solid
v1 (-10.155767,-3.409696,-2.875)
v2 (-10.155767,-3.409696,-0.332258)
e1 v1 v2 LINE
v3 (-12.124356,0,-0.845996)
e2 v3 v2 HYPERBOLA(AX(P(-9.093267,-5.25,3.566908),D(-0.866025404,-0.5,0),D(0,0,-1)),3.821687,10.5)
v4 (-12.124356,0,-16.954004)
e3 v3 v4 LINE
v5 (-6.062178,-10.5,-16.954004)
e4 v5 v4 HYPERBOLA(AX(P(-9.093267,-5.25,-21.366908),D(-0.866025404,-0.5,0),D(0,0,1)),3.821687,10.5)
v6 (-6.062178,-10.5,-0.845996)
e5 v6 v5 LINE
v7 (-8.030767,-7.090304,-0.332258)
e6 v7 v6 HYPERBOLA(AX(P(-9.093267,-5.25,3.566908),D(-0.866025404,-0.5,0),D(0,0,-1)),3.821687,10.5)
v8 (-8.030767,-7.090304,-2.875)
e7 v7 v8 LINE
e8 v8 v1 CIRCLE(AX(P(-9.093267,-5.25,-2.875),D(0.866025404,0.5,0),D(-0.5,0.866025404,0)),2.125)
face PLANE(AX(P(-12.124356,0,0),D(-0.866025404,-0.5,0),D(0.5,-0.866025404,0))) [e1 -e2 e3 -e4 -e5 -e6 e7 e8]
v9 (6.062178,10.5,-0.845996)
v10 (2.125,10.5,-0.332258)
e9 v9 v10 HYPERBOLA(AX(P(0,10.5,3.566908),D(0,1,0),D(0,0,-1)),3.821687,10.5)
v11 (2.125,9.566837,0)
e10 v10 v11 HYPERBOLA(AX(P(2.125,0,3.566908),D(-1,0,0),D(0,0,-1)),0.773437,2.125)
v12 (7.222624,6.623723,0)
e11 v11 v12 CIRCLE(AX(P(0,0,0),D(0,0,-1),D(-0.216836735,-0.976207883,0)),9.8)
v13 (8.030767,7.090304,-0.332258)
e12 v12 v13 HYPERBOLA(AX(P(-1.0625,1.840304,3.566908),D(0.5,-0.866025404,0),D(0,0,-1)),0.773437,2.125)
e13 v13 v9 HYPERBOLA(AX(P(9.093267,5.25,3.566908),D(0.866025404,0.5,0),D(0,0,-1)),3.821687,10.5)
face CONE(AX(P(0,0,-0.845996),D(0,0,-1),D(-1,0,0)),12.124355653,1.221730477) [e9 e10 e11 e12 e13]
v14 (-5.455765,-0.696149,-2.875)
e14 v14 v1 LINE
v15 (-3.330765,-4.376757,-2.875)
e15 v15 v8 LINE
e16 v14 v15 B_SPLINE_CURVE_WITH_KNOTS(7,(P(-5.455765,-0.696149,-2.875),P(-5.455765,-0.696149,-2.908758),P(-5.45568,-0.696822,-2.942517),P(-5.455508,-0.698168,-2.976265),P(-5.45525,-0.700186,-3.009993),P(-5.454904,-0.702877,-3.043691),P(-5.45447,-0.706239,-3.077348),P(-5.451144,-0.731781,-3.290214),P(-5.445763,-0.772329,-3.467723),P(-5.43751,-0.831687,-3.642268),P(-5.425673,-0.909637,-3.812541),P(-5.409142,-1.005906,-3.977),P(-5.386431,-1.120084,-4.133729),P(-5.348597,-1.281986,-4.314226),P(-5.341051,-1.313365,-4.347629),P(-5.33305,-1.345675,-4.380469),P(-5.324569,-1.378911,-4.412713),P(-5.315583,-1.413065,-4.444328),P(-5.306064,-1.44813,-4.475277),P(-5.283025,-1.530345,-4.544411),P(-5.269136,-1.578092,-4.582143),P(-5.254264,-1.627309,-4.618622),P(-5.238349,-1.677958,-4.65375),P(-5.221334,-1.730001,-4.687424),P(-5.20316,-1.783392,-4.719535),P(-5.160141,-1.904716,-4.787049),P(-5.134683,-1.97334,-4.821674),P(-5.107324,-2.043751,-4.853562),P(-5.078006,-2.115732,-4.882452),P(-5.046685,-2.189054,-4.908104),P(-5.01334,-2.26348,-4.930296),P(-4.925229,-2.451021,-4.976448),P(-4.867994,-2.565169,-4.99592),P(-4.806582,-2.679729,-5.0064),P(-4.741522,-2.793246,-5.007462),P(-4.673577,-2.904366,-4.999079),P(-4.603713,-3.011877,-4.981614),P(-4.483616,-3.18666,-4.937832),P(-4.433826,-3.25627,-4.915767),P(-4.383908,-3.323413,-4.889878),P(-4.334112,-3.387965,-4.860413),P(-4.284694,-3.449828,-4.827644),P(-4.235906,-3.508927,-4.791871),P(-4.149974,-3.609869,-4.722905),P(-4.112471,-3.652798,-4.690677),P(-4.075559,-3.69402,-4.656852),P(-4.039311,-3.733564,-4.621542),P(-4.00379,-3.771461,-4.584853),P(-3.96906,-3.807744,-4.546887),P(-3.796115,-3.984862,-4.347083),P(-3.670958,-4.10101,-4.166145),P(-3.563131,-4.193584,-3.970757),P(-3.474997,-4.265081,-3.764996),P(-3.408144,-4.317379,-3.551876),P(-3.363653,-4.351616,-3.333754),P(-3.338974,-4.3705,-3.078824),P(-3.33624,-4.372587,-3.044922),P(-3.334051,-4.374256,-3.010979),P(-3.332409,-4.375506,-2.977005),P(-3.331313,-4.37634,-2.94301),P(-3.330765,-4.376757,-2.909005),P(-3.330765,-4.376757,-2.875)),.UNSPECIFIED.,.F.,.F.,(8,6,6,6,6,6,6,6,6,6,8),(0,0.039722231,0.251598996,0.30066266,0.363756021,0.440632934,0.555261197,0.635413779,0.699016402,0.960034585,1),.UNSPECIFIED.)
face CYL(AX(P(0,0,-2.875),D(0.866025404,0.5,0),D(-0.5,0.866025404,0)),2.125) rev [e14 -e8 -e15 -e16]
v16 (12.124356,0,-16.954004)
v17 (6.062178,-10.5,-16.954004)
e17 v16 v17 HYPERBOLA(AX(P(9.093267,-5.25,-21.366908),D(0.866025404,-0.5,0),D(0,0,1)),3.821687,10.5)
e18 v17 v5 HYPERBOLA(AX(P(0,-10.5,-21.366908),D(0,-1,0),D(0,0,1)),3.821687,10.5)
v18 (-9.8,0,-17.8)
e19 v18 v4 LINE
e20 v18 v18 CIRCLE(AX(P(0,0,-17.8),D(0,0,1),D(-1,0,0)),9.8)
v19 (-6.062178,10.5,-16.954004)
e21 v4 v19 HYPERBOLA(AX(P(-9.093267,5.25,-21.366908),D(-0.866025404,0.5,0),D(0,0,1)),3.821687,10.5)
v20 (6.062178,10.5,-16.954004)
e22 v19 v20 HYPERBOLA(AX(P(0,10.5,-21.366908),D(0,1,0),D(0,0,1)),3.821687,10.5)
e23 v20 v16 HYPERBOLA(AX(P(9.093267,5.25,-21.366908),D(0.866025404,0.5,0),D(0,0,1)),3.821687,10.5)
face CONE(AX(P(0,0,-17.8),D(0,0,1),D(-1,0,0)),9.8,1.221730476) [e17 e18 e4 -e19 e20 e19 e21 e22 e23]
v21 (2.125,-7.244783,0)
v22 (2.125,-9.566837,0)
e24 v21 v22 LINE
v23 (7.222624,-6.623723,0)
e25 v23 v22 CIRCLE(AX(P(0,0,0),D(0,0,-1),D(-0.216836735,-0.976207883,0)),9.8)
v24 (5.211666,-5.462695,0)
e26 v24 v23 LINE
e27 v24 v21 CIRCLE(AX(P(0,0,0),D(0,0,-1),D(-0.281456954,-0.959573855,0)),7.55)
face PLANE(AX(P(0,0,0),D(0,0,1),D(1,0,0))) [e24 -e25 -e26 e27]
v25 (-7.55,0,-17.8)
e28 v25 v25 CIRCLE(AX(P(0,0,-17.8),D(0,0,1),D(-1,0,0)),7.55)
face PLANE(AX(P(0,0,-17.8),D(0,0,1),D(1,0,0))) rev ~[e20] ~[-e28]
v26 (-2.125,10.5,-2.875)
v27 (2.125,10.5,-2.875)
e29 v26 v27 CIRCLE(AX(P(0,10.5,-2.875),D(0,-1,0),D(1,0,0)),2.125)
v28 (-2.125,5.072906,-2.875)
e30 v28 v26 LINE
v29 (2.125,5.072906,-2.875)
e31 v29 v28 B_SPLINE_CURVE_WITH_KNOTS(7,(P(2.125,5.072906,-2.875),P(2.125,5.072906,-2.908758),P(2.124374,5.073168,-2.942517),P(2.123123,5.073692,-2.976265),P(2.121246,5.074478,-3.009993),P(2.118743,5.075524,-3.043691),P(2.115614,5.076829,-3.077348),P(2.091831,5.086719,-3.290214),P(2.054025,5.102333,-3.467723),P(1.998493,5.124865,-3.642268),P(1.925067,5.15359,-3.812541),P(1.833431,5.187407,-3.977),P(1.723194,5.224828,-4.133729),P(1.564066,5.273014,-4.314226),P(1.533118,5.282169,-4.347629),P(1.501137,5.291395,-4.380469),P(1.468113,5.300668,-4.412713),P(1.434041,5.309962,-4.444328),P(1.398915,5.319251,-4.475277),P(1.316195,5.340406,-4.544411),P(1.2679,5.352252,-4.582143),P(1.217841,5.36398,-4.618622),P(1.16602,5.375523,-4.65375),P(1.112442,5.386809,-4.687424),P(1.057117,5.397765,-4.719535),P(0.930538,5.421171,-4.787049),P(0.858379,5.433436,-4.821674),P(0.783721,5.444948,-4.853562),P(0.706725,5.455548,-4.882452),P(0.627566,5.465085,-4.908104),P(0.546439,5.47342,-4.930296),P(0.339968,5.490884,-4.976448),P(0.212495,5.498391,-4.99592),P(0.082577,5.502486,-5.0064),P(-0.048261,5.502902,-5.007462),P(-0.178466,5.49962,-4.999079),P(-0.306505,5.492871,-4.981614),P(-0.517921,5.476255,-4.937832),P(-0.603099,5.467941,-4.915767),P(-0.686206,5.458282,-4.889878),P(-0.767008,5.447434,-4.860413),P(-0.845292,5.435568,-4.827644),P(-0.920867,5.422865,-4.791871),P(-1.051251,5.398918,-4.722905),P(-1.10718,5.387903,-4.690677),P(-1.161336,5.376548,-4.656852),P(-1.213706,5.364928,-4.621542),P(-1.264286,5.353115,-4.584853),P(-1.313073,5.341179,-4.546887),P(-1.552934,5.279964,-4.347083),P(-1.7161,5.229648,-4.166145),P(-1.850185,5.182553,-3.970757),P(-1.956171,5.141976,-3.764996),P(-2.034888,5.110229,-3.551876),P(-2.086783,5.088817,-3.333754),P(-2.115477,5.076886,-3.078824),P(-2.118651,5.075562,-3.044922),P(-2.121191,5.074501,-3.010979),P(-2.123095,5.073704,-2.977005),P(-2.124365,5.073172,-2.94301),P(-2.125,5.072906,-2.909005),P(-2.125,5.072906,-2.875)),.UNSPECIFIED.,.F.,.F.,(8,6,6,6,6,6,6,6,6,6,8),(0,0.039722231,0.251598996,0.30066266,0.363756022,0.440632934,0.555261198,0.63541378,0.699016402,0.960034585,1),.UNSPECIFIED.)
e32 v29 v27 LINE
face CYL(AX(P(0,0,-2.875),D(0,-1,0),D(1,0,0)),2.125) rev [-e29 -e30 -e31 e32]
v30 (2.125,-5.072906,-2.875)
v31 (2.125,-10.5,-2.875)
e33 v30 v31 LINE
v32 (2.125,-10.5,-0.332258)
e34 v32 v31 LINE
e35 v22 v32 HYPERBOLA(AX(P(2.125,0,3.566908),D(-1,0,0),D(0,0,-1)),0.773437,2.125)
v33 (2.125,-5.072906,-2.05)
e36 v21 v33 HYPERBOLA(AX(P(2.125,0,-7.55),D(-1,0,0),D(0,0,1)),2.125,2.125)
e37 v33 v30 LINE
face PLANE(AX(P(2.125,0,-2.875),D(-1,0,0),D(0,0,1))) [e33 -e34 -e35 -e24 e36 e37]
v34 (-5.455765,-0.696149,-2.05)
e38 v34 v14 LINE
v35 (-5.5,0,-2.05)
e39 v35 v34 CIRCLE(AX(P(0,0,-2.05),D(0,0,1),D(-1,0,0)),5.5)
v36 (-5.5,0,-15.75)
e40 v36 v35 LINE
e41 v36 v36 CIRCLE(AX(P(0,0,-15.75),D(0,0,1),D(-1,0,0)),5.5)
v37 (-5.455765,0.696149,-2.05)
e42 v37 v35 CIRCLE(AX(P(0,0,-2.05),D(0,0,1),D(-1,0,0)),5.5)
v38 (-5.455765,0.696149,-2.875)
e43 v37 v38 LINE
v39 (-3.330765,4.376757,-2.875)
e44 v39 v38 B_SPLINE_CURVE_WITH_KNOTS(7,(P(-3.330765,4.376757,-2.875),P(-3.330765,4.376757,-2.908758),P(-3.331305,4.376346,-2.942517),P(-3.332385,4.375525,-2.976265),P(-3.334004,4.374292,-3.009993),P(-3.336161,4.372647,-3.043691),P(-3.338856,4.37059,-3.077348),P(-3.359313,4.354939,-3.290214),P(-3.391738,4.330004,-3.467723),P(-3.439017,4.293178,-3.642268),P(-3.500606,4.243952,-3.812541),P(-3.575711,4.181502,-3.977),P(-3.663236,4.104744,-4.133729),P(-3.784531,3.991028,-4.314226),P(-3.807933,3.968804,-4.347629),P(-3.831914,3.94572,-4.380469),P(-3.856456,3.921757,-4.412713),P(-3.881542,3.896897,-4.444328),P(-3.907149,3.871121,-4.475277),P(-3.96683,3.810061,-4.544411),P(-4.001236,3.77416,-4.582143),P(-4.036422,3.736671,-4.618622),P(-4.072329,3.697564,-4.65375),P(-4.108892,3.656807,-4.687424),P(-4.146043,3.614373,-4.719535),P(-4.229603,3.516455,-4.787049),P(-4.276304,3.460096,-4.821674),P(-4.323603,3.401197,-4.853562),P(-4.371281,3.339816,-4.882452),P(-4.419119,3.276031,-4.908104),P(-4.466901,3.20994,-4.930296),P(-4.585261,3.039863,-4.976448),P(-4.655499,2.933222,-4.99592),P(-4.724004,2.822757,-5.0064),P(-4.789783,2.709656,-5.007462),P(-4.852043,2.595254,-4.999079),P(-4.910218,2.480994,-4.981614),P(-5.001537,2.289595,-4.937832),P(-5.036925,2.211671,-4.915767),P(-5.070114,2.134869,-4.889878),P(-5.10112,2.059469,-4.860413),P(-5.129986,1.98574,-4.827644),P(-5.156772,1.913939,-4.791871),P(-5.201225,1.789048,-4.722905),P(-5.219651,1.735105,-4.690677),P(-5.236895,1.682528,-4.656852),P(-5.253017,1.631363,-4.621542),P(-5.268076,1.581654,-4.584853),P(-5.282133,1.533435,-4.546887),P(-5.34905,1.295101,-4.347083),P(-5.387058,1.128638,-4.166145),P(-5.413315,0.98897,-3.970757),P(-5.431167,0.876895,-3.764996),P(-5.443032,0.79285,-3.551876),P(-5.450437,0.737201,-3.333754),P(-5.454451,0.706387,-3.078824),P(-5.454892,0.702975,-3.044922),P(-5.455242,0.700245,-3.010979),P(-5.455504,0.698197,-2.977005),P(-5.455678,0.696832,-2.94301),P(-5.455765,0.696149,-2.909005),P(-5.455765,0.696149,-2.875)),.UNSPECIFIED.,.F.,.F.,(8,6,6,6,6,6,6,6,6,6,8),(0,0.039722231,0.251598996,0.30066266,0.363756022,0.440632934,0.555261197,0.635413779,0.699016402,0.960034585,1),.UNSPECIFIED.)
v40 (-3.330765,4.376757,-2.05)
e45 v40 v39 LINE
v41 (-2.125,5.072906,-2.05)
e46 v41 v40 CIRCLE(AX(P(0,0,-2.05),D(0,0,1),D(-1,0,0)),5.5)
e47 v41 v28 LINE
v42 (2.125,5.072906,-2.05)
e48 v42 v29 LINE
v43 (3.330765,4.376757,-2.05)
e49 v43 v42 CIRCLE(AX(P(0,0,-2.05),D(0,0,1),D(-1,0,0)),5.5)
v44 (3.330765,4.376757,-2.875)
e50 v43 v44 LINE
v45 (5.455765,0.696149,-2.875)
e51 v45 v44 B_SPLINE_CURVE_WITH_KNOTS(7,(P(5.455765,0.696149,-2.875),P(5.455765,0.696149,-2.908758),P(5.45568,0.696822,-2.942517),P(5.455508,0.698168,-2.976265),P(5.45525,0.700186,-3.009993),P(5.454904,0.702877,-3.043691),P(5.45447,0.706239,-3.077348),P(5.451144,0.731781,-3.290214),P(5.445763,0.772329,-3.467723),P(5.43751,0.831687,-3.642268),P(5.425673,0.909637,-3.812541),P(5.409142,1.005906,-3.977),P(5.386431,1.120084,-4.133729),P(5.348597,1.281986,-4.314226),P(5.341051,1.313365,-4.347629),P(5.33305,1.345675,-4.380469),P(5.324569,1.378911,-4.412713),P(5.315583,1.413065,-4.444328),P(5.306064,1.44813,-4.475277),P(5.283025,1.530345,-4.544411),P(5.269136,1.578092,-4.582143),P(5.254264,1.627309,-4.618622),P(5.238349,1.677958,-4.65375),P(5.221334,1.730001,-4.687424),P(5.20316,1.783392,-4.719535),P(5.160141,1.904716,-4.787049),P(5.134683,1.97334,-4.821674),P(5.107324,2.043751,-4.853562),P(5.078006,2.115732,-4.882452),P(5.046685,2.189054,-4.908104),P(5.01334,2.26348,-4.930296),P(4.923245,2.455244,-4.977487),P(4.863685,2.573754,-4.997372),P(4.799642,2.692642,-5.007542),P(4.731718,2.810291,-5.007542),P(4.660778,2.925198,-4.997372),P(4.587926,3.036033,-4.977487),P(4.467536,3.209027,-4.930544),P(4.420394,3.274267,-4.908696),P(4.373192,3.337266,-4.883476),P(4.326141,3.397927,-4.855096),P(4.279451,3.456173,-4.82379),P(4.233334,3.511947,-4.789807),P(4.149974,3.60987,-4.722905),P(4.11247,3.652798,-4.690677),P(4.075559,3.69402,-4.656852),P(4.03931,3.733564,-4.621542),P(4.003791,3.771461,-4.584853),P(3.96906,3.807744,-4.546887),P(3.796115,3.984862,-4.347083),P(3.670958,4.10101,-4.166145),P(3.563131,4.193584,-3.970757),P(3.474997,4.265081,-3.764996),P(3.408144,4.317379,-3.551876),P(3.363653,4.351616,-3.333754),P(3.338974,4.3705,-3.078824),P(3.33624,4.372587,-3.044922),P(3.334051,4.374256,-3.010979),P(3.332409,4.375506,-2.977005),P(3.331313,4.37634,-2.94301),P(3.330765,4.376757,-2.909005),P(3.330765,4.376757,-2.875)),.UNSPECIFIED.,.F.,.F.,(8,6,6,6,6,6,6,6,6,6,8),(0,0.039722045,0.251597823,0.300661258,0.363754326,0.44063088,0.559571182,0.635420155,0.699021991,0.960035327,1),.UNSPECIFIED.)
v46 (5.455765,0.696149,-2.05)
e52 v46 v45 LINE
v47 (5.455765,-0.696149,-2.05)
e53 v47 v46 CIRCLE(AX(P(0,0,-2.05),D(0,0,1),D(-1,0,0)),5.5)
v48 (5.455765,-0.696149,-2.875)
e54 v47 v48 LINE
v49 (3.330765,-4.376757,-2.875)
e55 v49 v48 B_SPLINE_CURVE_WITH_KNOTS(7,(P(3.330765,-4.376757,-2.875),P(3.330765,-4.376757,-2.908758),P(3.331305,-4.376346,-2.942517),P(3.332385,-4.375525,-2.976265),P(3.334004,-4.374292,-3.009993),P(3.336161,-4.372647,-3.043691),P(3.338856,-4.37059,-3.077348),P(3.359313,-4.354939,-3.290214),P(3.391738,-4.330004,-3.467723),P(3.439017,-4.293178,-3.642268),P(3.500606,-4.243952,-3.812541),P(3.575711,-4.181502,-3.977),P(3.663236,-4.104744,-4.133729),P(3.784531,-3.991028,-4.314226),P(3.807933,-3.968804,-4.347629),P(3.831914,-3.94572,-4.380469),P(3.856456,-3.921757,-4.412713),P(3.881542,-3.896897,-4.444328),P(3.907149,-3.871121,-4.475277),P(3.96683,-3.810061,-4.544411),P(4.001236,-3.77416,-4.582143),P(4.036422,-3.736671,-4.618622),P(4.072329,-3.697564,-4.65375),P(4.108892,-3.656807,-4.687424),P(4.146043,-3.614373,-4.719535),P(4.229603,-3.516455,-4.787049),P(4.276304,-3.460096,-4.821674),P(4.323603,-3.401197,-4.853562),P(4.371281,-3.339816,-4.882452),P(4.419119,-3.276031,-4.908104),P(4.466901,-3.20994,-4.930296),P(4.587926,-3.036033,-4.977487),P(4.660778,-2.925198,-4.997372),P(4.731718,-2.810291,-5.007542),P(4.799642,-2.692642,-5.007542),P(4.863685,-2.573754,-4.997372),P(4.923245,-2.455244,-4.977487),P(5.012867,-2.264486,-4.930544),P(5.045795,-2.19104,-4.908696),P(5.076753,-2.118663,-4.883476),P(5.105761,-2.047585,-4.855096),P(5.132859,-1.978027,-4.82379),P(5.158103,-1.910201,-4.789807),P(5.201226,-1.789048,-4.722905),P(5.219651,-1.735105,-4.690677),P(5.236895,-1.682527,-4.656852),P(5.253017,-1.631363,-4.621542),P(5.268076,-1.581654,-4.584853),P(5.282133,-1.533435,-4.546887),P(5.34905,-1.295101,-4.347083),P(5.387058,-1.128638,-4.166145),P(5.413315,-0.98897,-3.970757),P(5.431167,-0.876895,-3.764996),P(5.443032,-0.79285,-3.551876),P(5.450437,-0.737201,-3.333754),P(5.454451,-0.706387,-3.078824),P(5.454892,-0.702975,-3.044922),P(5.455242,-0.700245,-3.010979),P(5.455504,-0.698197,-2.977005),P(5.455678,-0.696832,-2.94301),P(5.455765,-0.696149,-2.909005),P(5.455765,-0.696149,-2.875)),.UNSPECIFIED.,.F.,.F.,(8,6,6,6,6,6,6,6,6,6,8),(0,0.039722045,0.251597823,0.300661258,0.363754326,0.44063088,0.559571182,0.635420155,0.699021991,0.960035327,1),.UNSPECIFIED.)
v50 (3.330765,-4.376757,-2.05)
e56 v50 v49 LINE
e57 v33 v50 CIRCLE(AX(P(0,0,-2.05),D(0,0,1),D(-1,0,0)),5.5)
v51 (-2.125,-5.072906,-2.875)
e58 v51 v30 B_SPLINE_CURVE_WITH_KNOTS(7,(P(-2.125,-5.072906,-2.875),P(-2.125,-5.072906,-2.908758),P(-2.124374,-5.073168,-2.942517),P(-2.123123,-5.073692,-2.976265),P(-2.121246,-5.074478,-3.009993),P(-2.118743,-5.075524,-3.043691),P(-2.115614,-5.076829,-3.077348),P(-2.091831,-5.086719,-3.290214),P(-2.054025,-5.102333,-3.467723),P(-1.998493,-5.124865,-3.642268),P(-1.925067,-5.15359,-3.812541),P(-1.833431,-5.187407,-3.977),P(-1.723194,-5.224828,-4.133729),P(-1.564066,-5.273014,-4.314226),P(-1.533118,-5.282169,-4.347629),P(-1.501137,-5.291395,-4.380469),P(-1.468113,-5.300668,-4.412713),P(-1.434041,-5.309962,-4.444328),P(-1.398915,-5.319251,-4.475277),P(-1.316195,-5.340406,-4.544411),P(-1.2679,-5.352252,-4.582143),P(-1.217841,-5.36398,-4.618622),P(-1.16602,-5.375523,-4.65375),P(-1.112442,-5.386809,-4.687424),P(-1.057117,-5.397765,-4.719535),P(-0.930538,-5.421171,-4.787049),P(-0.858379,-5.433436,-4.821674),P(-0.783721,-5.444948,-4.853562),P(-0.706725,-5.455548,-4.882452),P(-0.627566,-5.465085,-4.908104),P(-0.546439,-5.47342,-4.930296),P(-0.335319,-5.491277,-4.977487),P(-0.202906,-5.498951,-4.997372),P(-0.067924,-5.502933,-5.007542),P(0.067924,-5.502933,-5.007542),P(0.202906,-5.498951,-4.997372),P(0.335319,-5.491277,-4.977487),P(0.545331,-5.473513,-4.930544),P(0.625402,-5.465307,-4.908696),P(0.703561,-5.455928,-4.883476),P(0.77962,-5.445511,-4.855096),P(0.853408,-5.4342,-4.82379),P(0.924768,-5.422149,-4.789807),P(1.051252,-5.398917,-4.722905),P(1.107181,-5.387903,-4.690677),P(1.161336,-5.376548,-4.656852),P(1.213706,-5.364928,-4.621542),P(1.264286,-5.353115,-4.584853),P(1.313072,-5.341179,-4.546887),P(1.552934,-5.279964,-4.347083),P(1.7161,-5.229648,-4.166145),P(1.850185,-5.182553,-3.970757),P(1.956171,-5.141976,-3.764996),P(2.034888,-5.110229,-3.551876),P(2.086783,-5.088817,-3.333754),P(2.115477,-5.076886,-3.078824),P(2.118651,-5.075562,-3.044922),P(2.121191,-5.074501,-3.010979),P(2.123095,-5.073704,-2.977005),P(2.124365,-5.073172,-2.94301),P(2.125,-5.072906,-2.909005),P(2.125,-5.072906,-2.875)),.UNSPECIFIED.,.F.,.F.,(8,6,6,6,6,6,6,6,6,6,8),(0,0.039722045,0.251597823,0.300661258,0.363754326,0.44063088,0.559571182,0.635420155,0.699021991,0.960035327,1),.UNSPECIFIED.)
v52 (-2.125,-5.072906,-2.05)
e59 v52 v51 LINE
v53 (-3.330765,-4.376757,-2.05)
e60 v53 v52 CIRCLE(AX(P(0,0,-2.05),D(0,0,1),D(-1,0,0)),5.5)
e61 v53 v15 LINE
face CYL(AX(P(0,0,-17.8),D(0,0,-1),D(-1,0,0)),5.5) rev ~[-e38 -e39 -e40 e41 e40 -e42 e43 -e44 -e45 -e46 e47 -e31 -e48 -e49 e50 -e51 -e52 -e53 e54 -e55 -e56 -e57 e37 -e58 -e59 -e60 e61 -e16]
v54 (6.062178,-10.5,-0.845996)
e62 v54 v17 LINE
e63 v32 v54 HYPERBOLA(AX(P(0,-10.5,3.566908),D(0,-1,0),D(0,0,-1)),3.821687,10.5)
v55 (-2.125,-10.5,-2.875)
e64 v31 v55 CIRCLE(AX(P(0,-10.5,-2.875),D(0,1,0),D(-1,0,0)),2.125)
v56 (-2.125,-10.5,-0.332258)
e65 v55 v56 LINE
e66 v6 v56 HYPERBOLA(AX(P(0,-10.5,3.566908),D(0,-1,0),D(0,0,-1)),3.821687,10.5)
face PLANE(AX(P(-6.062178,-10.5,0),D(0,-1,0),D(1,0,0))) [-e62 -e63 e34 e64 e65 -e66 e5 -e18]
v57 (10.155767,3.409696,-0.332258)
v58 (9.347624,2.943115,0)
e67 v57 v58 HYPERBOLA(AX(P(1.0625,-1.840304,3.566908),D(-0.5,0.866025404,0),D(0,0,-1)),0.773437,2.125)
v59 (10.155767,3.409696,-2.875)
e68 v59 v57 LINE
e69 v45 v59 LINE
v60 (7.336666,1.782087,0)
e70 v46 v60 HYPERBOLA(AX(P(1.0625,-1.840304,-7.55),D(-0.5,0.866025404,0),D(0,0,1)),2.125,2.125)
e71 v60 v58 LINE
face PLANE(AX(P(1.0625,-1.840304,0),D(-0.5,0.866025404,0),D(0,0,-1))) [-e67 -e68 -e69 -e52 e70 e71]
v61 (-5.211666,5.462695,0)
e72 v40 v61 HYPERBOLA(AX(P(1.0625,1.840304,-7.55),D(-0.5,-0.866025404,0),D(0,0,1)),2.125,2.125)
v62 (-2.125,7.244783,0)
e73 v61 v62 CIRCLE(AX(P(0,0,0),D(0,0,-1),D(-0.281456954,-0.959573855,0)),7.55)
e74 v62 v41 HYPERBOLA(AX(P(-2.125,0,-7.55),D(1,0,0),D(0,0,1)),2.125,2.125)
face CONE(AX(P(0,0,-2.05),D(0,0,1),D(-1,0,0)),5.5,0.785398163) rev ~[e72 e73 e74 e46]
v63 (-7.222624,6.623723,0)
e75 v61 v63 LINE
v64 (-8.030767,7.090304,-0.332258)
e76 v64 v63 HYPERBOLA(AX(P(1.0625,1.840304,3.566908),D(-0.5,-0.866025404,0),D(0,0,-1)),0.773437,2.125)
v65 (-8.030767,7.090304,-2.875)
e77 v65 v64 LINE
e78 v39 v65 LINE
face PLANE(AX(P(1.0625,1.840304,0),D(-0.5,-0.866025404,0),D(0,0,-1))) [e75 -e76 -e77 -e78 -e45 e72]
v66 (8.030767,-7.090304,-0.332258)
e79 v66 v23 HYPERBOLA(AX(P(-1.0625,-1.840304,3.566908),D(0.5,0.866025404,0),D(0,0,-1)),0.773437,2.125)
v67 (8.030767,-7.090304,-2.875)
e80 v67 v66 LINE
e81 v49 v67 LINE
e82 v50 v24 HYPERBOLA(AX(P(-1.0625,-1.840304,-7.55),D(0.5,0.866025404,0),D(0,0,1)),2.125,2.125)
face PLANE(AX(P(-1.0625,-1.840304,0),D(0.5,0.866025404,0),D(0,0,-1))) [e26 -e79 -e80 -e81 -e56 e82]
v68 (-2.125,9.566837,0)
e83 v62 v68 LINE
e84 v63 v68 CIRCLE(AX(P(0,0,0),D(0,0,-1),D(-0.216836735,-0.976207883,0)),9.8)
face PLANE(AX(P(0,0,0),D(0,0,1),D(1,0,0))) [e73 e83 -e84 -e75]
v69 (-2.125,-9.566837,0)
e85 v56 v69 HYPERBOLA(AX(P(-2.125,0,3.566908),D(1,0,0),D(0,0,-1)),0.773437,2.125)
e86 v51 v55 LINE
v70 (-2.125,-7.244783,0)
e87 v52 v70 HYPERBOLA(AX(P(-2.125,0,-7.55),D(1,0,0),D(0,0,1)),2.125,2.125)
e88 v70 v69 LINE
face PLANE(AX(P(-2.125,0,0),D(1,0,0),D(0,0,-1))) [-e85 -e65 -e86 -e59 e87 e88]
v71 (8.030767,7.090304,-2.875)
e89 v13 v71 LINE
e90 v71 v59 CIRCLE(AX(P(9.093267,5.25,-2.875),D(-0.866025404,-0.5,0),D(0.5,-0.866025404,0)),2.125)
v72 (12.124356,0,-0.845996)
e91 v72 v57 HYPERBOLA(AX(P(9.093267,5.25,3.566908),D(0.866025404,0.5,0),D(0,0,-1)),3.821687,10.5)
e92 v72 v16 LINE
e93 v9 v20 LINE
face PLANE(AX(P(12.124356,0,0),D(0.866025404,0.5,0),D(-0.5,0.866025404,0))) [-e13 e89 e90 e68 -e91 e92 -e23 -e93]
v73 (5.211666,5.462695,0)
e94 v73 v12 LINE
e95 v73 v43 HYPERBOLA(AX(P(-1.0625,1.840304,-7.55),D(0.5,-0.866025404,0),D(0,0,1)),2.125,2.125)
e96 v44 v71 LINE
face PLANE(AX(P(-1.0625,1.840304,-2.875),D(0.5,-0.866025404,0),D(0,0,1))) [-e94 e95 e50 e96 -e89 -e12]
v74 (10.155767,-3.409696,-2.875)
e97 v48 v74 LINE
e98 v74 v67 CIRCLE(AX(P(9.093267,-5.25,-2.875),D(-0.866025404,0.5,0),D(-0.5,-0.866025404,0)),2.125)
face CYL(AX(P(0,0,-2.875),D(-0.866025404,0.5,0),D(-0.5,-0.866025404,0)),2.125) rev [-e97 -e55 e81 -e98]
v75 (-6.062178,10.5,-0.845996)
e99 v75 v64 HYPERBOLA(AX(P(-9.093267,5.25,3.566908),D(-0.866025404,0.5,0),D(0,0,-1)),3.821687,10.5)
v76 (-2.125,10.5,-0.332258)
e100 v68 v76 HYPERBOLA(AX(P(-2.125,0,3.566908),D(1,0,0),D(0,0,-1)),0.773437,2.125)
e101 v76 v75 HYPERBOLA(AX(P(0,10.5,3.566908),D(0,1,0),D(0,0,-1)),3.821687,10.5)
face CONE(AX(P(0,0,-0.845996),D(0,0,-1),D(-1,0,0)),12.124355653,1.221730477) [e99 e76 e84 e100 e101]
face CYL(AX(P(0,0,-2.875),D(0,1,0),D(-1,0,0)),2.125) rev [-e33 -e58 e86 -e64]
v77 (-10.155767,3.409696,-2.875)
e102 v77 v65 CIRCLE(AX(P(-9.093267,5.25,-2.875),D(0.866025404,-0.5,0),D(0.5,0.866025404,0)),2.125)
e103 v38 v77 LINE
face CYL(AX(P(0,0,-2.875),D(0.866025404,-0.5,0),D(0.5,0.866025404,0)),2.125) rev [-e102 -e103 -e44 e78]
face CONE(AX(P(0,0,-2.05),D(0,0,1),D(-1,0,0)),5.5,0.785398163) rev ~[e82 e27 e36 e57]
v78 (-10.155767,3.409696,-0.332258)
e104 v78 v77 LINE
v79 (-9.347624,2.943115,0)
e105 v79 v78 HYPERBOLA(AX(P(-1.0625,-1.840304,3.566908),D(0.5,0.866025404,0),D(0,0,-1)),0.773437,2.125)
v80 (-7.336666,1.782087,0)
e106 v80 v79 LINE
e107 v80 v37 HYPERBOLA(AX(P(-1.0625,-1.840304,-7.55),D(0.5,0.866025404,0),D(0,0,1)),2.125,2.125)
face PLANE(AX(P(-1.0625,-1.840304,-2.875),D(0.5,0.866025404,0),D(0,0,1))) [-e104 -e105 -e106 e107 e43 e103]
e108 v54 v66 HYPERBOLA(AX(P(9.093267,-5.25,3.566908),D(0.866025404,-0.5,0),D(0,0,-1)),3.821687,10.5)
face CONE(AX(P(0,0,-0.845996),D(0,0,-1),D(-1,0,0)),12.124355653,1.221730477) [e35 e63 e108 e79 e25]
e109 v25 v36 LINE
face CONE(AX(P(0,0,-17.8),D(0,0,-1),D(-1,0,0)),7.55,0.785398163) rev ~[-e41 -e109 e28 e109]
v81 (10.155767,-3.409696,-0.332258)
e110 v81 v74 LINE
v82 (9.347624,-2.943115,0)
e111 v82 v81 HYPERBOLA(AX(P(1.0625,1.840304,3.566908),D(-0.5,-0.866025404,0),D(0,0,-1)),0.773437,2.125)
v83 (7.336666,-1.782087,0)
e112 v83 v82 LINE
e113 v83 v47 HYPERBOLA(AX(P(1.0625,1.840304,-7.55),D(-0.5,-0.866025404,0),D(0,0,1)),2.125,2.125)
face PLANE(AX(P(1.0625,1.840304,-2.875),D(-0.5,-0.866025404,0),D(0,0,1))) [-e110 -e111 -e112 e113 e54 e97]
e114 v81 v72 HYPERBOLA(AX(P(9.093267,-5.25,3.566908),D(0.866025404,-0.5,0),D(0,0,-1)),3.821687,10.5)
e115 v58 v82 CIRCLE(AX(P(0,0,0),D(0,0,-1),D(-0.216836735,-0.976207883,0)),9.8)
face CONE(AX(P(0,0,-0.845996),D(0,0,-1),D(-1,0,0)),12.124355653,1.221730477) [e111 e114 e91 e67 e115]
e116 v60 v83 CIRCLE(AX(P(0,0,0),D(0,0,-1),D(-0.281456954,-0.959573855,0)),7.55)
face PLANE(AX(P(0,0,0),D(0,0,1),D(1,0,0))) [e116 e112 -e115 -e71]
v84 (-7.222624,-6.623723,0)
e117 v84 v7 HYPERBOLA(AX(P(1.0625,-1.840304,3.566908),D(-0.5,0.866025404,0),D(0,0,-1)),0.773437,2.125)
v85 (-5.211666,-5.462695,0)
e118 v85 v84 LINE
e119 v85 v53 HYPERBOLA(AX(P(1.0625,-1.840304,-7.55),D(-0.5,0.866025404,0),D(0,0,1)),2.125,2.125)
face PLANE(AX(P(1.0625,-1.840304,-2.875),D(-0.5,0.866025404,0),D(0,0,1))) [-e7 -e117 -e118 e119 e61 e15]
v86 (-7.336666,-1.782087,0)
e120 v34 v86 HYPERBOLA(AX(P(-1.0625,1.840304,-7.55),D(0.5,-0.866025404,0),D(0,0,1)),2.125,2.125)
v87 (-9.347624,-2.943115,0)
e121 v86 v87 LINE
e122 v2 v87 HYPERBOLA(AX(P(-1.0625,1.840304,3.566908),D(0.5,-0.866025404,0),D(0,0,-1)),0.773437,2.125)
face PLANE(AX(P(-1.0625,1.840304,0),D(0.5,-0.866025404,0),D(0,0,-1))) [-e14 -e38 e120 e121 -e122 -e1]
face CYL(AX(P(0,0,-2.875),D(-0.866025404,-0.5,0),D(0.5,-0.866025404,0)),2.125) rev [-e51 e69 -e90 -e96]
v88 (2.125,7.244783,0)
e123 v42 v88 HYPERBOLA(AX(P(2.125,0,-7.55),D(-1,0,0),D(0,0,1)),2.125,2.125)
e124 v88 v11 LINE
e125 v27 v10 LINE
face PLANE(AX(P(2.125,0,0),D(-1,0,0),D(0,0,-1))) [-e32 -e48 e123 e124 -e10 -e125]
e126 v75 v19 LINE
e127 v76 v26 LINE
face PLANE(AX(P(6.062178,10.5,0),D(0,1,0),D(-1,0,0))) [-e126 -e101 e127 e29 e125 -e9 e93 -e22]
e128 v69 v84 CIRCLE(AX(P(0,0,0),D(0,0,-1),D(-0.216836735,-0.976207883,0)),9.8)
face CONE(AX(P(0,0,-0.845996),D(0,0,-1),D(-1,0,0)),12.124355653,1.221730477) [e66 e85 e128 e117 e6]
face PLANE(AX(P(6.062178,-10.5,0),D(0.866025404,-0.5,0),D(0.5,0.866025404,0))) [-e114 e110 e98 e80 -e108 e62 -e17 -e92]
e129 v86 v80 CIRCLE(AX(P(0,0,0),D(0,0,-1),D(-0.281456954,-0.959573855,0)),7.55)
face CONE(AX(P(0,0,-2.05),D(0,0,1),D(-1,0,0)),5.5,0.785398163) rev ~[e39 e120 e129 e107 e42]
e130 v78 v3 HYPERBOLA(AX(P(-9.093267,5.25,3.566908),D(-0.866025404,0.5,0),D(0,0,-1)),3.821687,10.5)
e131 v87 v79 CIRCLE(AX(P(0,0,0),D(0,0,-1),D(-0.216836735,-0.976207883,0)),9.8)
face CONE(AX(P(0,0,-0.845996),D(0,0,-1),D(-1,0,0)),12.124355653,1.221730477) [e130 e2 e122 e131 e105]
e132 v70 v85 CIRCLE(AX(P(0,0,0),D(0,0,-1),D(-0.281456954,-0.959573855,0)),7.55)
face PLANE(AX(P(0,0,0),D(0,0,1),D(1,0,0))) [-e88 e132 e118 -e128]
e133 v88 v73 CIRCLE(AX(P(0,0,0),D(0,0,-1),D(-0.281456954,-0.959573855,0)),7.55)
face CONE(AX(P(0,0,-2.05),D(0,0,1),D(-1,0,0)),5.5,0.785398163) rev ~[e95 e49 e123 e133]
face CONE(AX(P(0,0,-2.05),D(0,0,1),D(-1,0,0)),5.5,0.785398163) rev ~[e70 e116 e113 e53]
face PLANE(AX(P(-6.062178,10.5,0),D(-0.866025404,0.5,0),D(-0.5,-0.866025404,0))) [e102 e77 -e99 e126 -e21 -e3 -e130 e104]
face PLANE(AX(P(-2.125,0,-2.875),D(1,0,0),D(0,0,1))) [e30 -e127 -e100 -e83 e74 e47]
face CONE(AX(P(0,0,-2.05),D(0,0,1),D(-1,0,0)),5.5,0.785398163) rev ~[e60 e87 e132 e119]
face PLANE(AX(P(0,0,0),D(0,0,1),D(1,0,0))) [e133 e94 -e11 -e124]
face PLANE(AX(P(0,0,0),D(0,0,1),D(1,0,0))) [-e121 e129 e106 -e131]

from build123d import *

# Parameters (mm, degrees)
BASENUT_DEPTH     = 17.8
SKETCH3_R         = 5.5
HOLE_DEPTH        = 28.12289531
SLOT_DEPTH        = 37.36697762
SLOTPATTERN_COUNT = 6


with BuildPart() as part:
    # Sketch1 → BaseNut (new body)
    with BuildSketch(Plane.XY):
        Polygon((6.062177826, -10.5), (12.124355653, 0), (6.062177826, 10.5), (-6.062177826, 10.5), (-12.124355653, 0), (-6.062177826, -10.5), align=None)
    extrude(amount=-BASENUT_DEPTH)

    # Sketch2 → Double-Chamfer (revolve, cut)
    with BuildSketch(Plane(origin=(-3.47179677, 0, -17.32820323), x_dir=(0, 0, -1), z_dir=(0, 1, 0))):
        Polygon((0.47179677, 6.32820323), (-0.374199502, 8.652558883), (0.47179677, 8.652558883), align=None)
        Polygon((-17.32820323, 6.32820323), (-17.32820323, 8.652558883), (-16.482206959, 8.652558883), align=None)
    revolve(axis=Axis((0, 0, -17.32820323), (0, 0, 1)), mode=Mode.SUBTRACT)

    # Sketch3 → Hole (cut, through all)
    with BuildSketch(Plane(origin=(-4.279914938, -1.735659213, -17.8), x_dir=(-1, 0, 0), z_dir=(0, 0, -1))):
        with Locations((-4.279914938, 1.735659213)):
            Circle(SKETCH3_R)
    extrude(amount=-HOLE_DEPTH, mode=Mode.SUBTRACT)

    # Sketch4 → EndChamfer (revolve, cut)
    with BuildSketch(Plane(origin=(-15.758283222, 0, -7.108283222), x_dir=(0, 0, -1), z_dir=(0, 1, 0)), mode=Mode.PRIVATE) as endchamfer_sk:
        Polygon((10.691716778, -23.308283222), (8.641716778, -21.258283222), (10.691716778, -21.258283222), align=None)
        Polygon((-7.108283222, -21.258283222), (-5.058283222, -21.258283222), (-7.108283222, -23.308283222), align=None)
    revolve(endchamfer_sk.sketch.rotate(Axis((0, 0, -7.108283222), (0, 0, 1)), 180), axis=Axis((0, 0, -7.108283222), (0, 0, 1)), mode=Mode.SUBTRACT)

    # Sketch5 → Slot (cut, through all)
    with BuildSketch(Plane(origin=(-17.8, 0, -17.8), x_dir=(0, 0, -1), z_dir=(0, 1, 0))):
        with BuildLine():
            Line((-17.8, -15.675), (-14.925, -15.675))
            ThreePointArc((-14.925, -15.675), (-12.8, -17.8), (-14.925, -19.925))
            Line((-14.925, -19.925), (-17.8, -19.925))
            Line((-17.8, -19.925), (-17.8, -15.675))
        make_face()
    slot = extrude(amount=-SLOT_DEPTH, mode=Mode.SUBTRACT)

    # SlotPattern: Slot ×6 about axis
    slotpattern_axis = Axis((0, 0, 0), (0, 0, 1))
    for i in range(1, SLOTPATTERN_COUNT):
        add(slot.rotate(slotpattern_axis, i * 360 / SLOTPATTERN_COUNT), mode=Mode.SUBTRACT)


solid = part.part
